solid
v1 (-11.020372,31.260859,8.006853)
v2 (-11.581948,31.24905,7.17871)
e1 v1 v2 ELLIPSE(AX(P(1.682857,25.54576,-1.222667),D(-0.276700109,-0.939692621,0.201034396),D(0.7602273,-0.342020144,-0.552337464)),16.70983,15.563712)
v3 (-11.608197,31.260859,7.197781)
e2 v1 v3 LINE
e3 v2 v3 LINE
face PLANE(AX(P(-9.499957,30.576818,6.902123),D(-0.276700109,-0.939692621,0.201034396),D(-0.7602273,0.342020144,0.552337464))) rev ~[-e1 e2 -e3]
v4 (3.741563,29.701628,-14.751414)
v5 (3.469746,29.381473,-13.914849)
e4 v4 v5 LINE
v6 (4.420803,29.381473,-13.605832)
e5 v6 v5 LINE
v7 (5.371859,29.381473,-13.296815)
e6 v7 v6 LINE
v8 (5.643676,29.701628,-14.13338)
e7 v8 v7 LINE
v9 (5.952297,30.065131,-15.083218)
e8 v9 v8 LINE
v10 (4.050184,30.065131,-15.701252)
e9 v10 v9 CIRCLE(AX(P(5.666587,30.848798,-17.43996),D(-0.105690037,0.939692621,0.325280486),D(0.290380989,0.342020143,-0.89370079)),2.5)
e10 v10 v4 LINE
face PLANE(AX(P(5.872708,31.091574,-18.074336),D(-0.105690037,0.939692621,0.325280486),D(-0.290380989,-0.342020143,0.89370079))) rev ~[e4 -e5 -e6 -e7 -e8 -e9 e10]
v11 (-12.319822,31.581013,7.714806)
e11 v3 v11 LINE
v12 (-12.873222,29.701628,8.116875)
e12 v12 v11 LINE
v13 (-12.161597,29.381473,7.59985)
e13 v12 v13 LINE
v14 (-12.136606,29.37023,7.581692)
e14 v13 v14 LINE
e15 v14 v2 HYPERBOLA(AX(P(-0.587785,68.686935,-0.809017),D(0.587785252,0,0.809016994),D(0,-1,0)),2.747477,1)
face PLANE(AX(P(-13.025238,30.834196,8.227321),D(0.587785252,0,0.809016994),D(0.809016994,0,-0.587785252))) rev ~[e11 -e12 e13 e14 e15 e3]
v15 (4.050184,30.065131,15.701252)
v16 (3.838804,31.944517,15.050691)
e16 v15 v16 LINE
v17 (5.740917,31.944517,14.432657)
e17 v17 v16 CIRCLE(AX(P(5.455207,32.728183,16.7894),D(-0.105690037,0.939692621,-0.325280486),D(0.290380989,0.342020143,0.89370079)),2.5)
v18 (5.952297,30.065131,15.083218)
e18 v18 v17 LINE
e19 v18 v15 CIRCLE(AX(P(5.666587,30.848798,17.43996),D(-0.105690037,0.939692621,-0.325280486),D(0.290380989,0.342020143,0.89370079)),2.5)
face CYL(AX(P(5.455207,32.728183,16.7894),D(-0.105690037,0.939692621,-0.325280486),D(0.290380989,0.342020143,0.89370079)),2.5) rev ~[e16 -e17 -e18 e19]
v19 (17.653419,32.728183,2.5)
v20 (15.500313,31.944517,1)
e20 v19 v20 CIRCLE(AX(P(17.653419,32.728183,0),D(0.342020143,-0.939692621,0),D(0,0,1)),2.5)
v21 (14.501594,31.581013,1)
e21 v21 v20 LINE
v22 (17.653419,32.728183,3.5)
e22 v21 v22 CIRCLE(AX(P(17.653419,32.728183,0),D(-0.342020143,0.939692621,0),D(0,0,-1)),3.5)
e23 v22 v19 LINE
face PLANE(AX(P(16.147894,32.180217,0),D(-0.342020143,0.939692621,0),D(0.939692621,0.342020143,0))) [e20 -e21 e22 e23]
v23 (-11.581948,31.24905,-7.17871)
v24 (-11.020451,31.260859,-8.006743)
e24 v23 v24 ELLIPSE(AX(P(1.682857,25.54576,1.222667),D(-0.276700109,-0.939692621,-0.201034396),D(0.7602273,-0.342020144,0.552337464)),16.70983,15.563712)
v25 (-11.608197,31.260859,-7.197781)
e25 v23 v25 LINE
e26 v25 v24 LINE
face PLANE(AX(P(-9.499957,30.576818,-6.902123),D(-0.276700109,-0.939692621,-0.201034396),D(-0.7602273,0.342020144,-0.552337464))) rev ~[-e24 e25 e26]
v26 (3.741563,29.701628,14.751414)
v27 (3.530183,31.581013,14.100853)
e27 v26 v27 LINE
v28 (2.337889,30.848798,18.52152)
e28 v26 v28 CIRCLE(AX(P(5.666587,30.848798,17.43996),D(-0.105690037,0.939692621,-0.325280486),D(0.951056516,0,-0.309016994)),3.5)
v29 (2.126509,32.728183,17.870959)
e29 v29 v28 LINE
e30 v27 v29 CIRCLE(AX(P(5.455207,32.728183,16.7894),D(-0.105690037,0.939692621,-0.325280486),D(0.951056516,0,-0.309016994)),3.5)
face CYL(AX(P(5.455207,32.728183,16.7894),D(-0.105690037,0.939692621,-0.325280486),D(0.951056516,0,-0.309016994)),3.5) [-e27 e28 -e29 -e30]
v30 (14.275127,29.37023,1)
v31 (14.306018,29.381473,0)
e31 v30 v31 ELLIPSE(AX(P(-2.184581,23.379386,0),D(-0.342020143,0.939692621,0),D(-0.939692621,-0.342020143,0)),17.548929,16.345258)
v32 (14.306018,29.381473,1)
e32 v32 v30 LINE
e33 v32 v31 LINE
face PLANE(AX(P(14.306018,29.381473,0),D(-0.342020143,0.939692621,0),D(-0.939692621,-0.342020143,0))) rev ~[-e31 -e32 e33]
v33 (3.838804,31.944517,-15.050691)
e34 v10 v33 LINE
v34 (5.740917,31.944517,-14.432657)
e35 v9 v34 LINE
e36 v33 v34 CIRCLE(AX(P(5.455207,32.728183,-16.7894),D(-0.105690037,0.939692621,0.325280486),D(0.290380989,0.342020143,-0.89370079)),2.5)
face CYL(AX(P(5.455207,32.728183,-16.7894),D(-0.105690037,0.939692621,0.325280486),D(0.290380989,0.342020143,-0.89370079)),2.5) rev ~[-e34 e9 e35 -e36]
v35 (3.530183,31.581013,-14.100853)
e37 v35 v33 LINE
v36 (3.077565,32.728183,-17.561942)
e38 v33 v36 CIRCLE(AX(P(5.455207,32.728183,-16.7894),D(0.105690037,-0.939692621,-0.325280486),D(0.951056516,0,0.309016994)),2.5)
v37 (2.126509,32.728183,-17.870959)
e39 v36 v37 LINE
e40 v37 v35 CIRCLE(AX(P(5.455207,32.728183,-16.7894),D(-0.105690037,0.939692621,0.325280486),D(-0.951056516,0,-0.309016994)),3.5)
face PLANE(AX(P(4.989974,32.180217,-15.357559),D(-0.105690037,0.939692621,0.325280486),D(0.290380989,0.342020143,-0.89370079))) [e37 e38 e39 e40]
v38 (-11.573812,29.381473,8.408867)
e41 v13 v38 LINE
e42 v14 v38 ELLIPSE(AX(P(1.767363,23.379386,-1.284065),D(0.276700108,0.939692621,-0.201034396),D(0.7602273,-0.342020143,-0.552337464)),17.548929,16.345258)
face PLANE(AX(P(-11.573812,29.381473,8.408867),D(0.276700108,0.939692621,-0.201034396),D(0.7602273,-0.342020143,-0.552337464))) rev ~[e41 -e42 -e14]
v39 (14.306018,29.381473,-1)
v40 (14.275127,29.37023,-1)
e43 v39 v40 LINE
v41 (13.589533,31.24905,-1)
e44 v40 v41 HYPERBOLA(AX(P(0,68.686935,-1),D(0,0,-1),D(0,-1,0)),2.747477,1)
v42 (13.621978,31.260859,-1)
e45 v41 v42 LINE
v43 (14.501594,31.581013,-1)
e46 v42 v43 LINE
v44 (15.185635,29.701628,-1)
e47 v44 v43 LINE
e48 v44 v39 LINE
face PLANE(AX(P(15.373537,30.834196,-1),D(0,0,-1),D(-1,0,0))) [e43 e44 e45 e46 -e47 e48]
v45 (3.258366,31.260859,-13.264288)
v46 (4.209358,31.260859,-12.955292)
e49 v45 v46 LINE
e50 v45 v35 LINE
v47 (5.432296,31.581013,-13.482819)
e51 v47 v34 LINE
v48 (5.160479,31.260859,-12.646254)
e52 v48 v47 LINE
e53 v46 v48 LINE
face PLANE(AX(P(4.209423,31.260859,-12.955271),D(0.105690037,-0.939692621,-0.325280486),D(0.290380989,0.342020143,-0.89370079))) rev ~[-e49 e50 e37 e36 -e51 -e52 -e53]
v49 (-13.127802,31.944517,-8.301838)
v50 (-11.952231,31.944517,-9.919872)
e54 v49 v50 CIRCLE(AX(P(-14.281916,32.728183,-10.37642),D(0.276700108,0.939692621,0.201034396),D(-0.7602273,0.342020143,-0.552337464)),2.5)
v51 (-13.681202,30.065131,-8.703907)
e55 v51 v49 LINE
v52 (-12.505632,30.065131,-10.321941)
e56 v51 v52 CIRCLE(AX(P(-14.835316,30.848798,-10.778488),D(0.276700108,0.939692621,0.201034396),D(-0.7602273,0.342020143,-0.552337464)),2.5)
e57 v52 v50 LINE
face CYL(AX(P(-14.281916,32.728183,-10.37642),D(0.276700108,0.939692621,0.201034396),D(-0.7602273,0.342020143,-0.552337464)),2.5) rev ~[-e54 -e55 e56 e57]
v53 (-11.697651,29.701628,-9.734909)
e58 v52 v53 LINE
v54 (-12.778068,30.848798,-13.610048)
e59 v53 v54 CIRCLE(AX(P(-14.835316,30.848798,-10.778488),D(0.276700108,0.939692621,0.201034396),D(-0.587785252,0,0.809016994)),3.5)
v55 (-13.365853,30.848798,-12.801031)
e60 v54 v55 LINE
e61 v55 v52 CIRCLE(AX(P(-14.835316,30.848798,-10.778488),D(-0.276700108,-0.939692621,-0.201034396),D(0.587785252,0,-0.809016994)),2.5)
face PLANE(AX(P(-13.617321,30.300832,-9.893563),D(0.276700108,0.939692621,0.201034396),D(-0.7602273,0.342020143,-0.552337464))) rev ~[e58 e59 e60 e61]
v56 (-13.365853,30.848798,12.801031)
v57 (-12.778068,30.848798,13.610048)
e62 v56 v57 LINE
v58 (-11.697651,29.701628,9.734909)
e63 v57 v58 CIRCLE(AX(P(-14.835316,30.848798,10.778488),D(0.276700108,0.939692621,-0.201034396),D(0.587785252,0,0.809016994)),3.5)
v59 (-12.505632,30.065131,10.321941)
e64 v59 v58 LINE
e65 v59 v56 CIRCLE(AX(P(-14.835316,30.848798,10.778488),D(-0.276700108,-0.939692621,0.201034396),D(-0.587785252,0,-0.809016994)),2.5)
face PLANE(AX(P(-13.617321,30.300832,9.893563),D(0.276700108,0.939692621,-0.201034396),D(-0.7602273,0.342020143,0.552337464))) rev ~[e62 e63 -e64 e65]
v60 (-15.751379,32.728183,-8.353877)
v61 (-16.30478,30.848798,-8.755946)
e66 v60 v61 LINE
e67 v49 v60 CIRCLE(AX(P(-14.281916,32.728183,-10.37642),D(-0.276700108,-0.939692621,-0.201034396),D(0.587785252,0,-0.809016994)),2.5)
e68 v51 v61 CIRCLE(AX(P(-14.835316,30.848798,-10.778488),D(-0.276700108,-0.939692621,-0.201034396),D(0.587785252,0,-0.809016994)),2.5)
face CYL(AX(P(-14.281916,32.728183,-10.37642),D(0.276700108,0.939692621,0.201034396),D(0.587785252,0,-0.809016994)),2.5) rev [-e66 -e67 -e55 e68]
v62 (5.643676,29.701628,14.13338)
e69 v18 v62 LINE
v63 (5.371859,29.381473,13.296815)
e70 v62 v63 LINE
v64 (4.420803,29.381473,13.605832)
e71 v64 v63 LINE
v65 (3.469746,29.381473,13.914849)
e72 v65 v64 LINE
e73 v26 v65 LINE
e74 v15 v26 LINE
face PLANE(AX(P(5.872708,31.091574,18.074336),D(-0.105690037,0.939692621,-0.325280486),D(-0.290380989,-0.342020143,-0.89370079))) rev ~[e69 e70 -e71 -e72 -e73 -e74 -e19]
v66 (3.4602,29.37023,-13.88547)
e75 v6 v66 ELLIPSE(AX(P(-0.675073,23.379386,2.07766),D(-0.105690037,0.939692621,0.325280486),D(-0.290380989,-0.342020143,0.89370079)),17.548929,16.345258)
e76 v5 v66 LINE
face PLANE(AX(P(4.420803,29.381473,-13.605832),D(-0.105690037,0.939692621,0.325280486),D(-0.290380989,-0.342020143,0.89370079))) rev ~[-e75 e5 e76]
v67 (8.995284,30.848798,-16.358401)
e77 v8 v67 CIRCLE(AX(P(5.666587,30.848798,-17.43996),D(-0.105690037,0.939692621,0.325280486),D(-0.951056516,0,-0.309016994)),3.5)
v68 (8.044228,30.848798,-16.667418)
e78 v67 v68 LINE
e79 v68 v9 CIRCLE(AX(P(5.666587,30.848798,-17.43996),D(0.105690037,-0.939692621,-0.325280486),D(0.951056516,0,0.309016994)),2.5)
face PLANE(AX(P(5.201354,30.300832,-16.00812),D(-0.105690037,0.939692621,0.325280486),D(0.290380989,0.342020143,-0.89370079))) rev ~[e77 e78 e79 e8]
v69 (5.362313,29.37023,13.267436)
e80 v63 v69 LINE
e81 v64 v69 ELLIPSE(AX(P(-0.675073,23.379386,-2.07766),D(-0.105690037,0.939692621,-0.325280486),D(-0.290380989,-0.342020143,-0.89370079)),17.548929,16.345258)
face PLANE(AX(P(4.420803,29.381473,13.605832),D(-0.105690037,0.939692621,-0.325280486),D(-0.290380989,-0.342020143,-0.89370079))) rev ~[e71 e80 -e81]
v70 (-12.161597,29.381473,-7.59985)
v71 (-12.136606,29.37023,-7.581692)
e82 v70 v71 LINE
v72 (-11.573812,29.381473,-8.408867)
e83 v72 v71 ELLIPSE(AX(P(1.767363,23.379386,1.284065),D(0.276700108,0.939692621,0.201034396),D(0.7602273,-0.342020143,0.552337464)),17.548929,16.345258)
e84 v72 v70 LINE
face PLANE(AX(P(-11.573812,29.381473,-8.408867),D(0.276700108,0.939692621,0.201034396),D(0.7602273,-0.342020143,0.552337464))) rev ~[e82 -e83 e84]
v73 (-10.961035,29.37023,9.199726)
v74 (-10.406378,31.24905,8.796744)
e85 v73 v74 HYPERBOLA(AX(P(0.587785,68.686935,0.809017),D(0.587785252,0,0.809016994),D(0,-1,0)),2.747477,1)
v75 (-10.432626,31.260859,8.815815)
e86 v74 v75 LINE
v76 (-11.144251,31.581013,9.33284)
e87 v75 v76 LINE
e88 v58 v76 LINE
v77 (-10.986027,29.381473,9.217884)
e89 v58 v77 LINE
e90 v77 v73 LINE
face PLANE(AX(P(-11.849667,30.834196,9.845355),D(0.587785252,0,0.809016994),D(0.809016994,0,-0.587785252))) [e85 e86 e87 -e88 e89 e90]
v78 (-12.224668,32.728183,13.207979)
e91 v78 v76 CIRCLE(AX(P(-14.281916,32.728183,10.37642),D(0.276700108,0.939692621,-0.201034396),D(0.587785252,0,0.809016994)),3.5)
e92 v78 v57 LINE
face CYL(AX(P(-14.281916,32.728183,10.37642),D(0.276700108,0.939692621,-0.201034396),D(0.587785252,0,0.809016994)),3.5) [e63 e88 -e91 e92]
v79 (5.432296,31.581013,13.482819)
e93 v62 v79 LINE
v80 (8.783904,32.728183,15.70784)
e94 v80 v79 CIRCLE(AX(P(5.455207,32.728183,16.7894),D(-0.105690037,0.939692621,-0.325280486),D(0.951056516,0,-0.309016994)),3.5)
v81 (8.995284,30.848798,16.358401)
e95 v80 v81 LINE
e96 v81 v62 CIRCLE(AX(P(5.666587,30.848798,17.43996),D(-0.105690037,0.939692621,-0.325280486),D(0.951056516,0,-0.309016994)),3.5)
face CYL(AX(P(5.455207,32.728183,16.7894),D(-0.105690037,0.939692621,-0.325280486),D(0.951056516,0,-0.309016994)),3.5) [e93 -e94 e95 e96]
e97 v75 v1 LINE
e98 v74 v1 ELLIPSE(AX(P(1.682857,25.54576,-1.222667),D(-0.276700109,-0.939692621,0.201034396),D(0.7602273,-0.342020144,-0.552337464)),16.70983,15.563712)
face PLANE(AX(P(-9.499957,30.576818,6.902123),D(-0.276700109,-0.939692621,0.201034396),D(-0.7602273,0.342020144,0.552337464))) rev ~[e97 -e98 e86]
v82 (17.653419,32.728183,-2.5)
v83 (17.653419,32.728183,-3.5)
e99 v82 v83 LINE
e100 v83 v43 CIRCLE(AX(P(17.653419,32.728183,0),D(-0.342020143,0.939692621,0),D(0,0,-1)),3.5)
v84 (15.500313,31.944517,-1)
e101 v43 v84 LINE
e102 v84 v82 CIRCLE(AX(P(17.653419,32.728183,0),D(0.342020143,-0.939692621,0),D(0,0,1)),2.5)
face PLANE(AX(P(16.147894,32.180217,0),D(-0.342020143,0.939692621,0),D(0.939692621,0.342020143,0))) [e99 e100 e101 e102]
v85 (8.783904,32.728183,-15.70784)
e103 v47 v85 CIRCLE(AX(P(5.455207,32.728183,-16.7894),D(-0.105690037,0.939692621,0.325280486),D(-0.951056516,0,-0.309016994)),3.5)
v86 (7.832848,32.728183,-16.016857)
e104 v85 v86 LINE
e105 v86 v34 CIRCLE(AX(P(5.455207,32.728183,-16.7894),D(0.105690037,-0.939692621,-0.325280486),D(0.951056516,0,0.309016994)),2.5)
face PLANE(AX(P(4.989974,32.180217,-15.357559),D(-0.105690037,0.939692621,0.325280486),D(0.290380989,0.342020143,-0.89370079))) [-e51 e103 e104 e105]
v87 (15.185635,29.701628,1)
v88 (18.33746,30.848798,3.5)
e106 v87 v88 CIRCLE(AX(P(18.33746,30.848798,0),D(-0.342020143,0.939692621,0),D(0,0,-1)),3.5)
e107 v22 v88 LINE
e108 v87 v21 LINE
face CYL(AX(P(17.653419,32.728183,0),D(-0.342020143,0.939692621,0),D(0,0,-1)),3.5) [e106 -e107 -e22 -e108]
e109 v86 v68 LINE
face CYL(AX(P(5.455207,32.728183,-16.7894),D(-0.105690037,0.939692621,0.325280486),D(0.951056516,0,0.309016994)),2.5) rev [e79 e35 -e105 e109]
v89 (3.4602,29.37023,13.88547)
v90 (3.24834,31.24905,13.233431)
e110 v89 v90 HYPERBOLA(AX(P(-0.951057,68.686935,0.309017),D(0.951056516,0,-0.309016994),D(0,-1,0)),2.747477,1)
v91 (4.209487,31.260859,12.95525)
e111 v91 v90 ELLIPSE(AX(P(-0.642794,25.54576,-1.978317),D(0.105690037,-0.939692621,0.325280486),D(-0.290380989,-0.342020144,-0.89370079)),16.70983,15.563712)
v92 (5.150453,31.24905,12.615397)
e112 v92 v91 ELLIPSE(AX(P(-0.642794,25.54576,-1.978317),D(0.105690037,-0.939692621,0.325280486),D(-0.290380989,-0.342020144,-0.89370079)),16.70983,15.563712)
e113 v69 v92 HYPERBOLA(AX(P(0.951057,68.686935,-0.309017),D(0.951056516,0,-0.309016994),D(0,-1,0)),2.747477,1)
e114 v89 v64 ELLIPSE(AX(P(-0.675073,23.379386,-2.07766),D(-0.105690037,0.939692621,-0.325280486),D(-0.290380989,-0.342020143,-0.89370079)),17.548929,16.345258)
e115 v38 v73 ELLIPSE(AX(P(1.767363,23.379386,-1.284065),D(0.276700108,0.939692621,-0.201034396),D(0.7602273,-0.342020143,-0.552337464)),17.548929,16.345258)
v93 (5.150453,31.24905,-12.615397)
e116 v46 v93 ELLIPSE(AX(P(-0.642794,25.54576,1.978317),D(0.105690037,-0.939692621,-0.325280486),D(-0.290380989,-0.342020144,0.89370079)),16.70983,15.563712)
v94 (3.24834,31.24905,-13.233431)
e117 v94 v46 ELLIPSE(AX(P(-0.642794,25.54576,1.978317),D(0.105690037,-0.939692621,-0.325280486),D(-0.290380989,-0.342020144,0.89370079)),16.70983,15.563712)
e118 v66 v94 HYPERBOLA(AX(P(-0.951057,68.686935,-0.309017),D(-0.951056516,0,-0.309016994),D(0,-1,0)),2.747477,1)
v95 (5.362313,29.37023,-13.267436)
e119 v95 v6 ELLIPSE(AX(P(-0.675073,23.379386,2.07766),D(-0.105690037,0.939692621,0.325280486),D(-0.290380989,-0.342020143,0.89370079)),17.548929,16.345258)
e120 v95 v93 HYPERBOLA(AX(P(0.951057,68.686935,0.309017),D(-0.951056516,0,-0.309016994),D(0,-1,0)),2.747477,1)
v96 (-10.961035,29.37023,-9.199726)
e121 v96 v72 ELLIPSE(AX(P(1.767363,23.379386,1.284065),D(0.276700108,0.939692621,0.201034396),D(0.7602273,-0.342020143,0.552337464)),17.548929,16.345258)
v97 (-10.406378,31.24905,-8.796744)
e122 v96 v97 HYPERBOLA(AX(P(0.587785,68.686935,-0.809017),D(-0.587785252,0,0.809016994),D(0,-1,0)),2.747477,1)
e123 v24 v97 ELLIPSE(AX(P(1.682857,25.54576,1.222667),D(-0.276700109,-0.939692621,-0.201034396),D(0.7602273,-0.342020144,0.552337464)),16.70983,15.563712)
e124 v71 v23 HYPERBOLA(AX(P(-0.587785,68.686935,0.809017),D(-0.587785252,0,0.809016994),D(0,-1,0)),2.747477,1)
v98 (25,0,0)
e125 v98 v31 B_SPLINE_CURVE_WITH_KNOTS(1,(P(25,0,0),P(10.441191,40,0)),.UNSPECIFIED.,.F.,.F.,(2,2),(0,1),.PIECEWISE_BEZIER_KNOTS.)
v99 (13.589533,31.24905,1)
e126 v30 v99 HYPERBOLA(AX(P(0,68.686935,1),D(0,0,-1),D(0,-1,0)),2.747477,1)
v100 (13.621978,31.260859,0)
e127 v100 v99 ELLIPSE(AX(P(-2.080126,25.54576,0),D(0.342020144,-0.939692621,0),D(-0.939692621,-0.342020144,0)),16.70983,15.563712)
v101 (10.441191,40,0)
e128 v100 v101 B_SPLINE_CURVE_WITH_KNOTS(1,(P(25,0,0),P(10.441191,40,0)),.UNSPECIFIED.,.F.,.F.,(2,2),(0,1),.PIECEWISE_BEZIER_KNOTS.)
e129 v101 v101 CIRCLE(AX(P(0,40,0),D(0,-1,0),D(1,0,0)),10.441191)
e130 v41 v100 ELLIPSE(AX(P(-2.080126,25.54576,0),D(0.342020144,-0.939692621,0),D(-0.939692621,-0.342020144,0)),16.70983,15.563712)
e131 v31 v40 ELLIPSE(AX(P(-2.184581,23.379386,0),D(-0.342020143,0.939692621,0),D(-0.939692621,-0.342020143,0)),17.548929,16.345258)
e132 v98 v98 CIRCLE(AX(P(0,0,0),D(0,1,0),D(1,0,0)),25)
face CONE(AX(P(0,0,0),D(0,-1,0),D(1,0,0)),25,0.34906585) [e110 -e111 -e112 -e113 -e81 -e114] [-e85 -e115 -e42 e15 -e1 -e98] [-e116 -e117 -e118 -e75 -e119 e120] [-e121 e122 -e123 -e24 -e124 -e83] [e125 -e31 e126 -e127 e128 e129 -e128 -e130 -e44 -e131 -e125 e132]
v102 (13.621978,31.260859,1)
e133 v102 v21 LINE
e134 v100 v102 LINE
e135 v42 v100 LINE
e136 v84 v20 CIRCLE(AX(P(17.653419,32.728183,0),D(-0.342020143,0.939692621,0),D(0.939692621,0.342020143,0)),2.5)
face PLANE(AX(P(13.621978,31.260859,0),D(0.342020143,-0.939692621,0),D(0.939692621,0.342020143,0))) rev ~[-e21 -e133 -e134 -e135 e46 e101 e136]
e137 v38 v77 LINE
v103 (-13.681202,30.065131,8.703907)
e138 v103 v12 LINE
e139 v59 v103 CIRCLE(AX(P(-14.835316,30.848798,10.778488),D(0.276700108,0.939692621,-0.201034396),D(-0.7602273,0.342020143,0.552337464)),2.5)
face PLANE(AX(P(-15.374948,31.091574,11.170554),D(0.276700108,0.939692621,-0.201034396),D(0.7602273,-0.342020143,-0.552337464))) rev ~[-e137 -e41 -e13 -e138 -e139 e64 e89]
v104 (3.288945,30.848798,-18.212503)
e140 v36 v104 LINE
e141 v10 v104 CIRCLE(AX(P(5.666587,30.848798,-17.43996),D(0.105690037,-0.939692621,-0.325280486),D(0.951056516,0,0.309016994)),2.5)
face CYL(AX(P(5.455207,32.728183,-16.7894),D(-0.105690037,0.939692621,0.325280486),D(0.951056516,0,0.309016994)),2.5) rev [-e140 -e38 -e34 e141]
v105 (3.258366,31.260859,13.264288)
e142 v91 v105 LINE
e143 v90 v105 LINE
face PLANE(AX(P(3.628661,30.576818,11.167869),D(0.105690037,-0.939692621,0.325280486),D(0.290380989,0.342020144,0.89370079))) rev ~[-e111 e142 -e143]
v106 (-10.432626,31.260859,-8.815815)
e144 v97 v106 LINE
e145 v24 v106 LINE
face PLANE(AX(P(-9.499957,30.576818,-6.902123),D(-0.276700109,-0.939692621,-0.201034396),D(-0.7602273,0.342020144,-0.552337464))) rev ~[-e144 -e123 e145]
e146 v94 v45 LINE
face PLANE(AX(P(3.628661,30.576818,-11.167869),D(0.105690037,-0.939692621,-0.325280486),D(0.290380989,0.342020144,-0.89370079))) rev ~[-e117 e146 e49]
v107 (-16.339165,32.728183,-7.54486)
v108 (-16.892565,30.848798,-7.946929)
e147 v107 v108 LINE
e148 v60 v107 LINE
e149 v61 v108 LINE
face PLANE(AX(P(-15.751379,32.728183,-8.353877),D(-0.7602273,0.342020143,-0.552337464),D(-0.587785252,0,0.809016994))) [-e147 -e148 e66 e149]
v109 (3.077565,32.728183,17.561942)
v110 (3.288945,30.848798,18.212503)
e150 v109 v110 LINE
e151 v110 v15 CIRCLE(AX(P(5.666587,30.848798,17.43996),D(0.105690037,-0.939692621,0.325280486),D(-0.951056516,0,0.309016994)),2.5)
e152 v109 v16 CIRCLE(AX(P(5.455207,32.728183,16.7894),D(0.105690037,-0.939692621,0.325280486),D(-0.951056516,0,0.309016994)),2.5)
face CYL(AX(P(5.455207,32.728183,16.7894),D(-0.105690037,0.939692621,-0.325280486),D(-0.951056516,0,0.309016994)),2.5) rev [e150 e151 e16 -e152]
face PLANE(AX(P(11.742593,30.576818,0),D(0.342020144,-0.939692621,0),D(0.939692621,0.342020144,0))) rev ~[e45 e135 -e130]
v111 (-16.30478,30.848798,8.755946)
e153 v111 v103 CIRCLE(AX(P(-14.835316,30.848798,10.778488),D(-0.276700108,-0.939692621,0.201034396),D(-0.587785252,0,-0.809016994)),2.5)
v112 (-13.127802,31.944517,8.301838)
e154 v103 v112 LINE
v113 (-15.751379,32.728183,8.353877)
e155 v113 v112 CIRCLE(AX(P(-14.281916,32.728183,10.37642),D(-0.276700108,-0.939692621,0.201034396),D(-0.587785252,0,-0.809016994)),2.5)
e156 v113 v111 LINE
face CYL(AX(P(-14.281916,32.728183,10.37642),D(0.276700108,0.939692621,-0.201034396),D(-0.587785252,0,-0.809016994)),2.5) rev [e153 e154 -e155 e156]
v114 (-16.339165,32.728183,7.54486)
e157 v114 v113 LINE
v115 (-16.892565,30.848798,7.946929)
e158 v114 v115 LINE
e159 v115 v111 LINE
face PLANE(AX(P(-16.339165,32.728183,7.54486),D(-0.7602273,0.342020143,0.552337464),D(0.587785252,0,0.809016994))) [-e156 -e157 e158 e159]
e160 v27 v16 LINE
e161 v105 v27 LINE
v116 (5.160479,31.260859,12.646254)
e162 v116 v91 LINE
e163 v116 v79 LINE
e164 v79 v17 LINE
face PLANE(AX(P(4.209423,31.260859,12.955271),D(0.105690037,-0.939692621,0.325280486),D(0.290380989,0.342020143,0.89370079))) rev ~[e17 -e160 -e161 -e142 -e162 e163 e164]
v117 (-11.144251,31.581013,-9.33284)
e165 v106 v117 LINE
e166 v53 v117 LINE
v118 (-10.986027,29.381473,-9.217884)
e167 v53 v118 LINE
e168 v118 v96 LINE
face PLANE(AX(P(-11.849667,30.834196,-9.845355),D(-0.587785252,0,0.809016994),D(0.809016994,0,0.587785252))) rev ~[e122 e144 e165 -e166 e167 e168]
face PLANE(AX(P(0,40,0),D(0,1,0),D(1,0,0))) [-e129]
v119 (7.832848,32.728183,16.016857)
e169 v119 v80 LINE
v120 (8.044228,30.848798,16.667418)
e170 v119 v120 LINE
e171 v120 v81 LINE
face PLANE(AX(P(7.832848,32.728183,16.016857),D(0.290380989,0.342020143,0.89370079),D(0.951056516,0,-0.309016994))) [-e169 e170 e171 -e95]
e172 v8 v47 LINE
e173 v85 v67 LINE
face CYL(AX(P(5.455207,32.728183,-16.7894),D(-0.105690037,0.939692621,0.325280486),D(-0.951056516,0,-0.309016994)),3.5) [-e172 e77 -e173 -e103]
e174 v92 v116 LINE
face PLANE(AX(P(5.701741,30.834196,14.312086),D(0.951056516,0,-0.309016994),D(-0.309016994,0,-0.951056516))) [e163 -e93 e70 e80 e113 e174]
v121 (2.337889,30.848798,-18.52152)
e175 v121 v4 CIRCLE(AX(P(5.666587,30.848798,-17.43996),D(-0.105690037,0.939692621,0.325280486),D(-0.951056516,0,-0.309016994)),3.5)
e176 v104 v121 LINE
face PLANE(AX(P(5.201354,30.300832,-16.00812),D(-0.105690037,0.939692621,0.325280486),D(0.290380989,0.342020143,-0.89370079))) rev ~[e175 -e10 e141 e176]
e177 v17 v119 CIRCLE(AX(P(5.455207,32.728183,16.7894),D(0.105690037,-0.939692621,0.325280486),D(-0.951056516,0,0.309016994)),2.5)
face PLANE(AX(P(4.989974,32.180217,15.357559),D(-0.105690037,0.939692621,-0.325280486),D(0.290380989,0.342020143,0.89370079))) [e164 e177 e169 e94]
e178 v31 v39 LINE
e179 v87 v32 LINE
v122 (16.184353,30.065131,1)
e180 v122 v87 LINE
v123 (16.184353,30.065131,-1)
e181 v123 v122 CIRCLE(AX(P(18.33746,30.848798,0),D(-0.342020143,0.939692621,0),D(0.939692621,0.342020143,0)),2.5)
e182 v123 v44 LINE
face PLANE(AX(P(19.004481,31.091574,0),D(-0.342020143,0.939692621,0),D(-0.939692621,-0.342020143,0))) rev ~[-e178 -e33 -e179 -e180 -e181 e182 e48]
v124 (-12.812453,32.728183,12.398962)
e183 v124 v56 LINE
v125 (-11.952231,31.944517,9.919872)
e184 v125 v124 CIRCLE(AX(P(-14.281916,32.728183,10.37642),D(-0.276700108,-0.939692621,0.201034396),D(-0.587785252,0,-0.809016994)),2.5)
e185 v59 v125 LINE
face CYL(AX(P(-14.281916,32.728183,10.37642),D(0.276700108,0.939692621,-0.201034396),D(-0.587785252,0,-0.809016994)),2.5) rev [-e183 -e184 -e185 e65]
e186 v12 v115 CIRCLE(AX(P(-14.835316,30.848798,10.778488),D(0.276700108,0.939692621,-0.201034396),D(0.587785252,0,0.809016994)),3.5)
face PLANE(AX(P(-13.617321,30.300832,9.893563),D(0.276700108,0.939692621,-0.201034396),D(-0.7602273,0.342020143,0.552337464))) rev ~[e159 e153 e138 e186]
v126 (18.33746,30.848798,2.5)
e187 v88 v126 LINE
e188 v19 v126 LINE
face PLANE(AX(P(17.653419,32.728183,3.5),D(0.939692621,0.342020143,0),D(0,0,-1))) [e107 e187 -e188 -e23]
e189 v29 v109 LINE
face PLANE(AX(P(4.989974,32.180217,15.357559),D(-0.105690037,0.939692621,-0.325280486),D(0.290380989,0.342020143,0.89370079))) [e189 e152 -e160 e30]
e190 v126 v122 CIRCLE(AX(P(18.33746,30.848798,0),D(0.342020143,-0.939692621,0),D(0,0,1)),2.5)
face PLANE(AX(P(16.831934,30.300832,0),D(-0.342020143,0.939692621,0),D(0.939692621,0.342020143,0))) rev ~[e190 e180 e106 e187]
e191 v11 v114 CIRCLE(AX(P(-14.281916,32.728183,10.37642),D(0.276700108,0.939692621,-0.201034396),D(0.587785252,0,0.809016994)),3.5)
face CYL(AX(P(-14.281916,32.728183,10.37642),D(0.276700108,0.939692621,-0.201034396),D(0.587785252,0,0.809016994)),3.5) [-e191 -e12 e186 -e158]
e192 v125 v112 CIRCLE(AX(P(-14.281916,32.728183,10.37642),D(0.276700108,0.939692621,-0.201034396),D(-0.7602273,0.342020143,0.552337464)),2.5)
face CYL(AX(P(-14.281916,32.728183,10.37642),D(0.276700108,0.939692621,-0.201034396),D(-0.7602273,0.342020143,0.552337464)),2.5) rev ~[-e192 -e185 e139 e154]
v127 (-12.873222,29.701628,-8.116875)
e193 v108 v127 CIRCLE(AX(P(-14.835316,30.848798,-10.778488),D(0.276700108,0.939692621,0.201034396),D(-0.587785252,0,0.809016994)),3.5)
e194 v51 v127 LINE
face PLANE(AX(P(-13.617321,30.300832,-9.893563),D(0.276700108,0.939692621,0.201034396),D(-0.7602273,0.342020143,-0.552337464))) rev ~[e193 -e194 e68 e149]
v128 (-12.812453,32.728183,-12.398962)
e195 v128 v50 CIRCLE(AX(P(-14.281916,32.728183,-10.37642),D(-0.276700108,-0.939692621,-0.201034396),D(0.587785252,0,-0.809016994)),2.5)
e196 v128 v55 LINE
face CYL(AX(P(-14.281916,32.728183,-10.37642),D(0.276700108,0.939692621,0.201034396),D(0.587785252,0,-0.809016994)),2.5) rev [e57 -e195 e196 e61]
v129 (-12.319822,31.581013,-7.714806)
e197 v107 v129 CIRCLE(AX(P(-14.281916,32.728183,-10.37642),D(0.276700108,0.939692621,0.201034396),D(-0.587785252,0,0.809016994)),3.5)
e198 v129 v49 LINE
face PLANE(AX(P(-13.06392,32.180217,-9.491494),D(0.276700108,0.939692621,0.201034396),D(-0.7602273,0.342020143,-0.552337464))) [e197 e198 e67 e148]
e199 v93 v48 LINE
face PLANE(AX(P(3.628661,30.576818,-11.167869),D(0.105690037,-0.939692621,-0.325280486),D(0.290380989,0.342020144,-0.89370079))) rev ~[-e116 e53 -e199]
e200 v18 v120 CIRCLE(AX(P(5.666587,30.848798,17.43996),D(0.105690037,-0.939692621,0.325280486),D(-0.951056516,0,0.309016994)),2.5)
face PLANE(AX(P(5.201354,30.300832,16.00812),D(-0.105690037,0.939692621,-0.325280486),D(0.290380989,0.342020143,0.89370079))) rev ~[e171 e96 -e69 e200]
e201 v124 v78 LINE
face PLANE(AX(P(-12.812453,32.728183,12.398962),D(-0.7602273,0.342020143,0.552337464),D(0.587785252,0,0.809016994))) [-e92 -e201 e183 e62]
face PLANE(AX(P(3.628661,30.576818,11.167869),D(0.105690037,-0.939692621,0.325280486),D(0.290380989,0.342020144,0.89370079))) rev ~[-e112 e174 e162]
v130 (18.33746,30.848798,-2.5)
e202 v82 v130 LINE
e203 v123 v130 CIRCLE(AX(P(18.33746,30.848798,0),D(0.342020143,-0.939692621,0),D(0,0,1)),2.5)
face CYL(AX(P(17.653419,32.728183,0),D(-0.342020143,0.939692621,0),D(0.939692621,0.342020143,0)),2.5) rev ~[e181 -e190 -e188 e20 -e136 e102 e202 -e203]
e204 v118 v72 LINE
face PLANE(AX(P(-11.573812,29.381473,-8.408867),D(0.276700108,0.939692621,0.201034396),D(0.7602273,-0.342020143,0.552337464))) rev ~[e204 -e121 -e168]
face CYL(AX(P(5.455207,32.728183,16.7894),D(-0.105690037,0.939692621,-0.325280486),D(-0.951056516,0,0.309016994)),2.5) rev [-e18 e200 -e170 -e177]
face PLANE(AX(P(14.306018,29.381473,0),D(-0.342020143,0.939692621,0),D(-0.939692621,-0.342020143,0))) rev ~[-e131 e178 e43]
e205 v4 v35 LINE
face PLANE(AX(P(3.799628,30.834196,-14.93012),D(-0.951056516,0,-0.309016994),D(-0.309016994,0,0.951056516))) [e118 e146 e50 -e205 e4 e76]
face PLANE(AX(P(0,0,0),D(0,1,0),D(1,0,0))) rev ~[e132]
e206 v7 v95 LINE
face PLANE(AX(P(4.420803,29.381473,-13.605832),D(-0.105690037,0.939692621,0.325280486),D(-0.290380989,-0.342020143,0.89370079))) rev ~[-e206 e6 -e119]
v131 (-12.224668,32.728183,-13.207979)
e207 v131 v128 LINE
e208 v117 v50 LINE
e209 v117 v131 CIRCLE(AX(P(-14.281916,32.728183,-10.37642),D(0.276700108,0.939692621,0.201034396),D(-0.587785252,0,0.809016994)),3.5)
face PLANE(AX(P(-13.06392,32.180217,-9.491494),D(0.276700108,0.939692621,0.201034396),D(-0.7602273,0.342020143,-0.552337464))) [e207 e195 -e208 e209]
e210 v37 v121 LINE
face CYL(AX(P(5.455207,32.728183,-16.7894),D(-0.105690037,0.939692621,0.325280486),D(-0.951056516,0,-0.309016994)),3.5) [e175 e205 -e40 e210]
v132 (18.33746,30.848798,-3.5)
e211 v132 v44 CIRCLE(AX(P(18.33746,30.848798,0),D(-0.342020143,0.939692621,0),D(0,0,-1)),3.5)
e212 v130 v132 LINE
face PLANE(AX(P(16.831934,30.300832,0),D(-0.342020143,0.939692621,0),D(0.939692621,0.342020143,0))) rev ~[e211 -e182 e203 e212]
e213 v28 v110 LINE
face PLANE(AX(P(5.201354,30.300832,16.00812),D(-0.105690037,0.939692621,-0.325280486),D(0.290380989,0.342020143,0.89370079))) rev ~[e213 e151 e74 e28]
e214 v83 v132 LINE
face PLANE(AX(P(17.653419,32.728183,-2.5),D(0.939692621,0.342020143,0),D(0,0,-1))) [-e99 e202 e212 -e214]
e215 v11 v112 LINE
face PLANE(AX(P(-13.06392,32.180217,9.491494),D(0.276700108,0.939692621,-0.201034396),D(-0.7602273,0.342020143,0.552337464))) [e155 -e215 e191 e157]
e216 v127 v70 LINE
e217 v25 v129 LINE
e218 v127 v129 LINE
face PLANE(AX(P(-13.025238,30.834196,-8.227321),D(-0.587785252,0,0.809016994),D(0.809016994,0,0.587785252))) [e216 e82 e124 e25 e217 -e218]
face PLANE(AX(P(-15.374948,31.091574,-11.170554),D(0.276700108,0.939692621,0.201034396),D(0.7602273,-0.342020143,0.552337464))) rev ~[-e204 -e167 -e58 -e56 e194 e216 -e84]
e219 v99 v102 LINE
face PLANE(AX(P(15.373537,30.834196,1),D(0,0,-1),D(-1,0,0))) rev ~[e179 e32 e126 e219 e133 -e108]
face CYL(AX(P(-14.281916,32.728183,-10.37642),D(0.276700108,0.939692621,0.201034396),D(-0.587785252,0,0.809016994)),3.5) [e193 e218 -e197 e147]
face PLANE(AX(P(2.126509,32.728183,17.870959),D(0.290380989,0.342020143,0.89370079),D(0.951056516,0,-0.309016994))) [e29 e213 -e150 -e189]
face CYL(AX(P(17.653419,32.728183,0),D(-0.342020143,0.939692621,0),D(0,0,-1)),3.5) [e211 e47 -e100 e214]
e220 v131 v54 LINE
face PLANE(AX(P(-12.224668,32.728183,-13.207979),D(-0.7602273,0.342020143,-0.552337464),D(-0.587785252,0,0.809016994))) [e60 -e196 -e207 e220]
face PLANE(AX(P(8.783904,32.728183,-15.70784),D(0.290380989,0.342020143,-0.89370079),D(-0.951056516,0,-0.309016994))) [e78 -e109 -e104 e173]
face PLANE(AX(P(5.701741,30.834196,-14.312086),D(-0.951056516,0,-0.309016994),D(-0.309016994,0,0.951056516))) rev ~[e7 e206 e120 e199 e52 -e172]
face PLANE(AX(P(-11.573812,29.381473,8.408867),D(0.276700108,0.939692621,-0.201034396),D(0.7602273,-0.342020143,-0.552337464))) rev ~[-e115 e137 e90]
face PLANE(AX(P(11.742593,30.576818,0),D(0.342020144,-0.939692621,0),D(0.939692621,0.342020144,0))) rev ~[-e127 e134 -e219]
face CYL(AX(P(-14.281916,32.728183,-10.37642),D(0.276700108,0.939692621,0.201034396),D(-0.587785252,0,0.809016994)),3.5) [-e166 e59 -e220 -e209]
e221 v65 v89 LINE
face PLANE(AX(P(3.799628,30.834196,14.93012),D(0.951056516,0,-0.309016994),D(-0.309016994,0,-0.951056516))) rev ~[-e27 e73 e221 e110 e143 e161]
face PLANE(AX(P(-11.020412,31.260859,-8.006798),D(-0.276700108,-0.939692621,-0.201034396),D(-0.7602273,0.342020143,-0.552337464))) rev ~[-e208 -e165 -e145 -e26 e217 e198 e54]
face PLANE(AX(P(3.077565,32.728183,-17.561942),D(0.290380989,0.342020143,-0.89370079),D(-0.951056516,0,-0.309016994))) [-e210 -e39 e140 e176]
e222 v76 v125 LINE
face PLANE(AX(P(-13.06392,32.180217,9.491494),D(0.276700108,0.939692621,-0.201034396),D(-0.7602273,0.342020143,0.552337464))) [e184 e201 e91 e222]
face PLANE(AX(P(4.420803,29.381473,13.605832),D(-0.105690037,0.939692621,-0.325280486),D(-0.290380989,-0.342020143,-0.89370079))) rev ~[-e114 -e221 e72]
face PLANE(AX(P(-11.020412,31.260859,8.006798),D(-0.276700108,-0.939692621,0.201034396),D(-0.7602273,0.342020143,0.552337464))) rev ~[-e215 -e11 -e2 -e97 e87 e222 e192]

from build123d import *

# Parameters (mm, degrees)
SKETCH1_R           = 25
BOSS_EXTRUDE1_DEPTH = 40
BOSS_EXTRUDE1_TAPER = 20
BOSS_EXTRUDE2_DEPTH = 1
BOSS_EXTRUDE3_DEPTH = 2
SKETCH3_3_R         = 2.5
CUT_EXTRUDE1_DEPTH  = 2
CIRPATTERN1_COUNT   = 5


with BuildPart() as part:
    # Sketch1 → Boss-Extrude1 (new body)
    with BuildSketch(Plane(origin=(0, 0, 0), x_dir=(1, 0, 0), z_dir=(0, 1, 0))):
        Circle(SKETCH1_R)
    extrude(amount=BOSS_EXTRUDE1_DEPTH, taper=BOSS_EXTRUDE1_TAPER)

    # Sketch2 → Boss-Extrude2 (add, symmetric)
    with BuildSketch(Plane.XY):
        Polygon((13.621977962, 31.260858627), (18.320441066, 32.970959343), (19.004481353, 31.091574102), (14.306018249, 29.381473385), (12.426633007, 28.697433098), (11.742592721, 30.57681834), align=None)
    boss_extrude2 = extrude(amount=BOSS_EXTRUDE2_DEPTH, both=True)

    # Sketch3 → Boss-Extrude3 (add)
    with BuildSketch(Plane(origin=(-8.453577577, 23.226013506, 0), x_dir=(0.9396926207859088, 0.34202014332566777, 0), z_dir=(-0.34202014332566777, 0.9396926207859089, 0))):
        with BuildLine():
            Line((27.78248584, 2.5), (27.78248584, 3.5))
            ThreePointArc((27.78248584, 3.5), (24.28248584, 0), (27.78248584, -3.5))
            Line((27.78248584, -3.5), (27.78248584, -2.5))
            ThreePointArc((27.78248584, -2.5), (25.28248584, 0), (27.78248584, 2.5))
        make_face()
    boss_extrude3 = extrude(amount=-BOSS_EXTRUDE3_DEPTH)

    # Sketch3<3> → Cut-Extrude1 (cut)
    with BuildSketch(Plane(origin=(-8.453577577, 23.226013506, 0), x_dir=(0.9396926207859088, 0.34202014332566777, 0), z_dir=(-0.34202014332566777, 0.9396926207859089, 0))):
        with Locations((27.78248584, 0)):
            Circle(SKETCH3_3_R)
    cut_extrude1 = extrude(amount=-CUT_EXTRUDE1_DEPTH, mode=Mode.SUBTRACT)

    # CirPattern1: Boss-Extrude2, Boss-Extrude3, Cut-Extrude1 ×5 about axis
    cirpattern1_axis = Axis((0, 40, 0), (0, 1, 0))
    add([boss_extrude2.rotate(cirpattern1_axis, i * 360 / CIRPATTERN1_COUNT) for i in range(1, CIRPATTERN1_COUNT)])
    add([boss_extrude3.rotate(cirpattern1_axis, i * 360 / CIRPATTERN1_COUNT) for i in range(1, CIRPATTERN1_COUNT)])
    add([cut_extrude1.rotate(cirpattern1_axis, i * 360 / CIRPATTERN1_COUNT) for i in range(1, CIRPATTERN1_COUNT)], mode=Mode.SUBTRACT)


solid = part.part
